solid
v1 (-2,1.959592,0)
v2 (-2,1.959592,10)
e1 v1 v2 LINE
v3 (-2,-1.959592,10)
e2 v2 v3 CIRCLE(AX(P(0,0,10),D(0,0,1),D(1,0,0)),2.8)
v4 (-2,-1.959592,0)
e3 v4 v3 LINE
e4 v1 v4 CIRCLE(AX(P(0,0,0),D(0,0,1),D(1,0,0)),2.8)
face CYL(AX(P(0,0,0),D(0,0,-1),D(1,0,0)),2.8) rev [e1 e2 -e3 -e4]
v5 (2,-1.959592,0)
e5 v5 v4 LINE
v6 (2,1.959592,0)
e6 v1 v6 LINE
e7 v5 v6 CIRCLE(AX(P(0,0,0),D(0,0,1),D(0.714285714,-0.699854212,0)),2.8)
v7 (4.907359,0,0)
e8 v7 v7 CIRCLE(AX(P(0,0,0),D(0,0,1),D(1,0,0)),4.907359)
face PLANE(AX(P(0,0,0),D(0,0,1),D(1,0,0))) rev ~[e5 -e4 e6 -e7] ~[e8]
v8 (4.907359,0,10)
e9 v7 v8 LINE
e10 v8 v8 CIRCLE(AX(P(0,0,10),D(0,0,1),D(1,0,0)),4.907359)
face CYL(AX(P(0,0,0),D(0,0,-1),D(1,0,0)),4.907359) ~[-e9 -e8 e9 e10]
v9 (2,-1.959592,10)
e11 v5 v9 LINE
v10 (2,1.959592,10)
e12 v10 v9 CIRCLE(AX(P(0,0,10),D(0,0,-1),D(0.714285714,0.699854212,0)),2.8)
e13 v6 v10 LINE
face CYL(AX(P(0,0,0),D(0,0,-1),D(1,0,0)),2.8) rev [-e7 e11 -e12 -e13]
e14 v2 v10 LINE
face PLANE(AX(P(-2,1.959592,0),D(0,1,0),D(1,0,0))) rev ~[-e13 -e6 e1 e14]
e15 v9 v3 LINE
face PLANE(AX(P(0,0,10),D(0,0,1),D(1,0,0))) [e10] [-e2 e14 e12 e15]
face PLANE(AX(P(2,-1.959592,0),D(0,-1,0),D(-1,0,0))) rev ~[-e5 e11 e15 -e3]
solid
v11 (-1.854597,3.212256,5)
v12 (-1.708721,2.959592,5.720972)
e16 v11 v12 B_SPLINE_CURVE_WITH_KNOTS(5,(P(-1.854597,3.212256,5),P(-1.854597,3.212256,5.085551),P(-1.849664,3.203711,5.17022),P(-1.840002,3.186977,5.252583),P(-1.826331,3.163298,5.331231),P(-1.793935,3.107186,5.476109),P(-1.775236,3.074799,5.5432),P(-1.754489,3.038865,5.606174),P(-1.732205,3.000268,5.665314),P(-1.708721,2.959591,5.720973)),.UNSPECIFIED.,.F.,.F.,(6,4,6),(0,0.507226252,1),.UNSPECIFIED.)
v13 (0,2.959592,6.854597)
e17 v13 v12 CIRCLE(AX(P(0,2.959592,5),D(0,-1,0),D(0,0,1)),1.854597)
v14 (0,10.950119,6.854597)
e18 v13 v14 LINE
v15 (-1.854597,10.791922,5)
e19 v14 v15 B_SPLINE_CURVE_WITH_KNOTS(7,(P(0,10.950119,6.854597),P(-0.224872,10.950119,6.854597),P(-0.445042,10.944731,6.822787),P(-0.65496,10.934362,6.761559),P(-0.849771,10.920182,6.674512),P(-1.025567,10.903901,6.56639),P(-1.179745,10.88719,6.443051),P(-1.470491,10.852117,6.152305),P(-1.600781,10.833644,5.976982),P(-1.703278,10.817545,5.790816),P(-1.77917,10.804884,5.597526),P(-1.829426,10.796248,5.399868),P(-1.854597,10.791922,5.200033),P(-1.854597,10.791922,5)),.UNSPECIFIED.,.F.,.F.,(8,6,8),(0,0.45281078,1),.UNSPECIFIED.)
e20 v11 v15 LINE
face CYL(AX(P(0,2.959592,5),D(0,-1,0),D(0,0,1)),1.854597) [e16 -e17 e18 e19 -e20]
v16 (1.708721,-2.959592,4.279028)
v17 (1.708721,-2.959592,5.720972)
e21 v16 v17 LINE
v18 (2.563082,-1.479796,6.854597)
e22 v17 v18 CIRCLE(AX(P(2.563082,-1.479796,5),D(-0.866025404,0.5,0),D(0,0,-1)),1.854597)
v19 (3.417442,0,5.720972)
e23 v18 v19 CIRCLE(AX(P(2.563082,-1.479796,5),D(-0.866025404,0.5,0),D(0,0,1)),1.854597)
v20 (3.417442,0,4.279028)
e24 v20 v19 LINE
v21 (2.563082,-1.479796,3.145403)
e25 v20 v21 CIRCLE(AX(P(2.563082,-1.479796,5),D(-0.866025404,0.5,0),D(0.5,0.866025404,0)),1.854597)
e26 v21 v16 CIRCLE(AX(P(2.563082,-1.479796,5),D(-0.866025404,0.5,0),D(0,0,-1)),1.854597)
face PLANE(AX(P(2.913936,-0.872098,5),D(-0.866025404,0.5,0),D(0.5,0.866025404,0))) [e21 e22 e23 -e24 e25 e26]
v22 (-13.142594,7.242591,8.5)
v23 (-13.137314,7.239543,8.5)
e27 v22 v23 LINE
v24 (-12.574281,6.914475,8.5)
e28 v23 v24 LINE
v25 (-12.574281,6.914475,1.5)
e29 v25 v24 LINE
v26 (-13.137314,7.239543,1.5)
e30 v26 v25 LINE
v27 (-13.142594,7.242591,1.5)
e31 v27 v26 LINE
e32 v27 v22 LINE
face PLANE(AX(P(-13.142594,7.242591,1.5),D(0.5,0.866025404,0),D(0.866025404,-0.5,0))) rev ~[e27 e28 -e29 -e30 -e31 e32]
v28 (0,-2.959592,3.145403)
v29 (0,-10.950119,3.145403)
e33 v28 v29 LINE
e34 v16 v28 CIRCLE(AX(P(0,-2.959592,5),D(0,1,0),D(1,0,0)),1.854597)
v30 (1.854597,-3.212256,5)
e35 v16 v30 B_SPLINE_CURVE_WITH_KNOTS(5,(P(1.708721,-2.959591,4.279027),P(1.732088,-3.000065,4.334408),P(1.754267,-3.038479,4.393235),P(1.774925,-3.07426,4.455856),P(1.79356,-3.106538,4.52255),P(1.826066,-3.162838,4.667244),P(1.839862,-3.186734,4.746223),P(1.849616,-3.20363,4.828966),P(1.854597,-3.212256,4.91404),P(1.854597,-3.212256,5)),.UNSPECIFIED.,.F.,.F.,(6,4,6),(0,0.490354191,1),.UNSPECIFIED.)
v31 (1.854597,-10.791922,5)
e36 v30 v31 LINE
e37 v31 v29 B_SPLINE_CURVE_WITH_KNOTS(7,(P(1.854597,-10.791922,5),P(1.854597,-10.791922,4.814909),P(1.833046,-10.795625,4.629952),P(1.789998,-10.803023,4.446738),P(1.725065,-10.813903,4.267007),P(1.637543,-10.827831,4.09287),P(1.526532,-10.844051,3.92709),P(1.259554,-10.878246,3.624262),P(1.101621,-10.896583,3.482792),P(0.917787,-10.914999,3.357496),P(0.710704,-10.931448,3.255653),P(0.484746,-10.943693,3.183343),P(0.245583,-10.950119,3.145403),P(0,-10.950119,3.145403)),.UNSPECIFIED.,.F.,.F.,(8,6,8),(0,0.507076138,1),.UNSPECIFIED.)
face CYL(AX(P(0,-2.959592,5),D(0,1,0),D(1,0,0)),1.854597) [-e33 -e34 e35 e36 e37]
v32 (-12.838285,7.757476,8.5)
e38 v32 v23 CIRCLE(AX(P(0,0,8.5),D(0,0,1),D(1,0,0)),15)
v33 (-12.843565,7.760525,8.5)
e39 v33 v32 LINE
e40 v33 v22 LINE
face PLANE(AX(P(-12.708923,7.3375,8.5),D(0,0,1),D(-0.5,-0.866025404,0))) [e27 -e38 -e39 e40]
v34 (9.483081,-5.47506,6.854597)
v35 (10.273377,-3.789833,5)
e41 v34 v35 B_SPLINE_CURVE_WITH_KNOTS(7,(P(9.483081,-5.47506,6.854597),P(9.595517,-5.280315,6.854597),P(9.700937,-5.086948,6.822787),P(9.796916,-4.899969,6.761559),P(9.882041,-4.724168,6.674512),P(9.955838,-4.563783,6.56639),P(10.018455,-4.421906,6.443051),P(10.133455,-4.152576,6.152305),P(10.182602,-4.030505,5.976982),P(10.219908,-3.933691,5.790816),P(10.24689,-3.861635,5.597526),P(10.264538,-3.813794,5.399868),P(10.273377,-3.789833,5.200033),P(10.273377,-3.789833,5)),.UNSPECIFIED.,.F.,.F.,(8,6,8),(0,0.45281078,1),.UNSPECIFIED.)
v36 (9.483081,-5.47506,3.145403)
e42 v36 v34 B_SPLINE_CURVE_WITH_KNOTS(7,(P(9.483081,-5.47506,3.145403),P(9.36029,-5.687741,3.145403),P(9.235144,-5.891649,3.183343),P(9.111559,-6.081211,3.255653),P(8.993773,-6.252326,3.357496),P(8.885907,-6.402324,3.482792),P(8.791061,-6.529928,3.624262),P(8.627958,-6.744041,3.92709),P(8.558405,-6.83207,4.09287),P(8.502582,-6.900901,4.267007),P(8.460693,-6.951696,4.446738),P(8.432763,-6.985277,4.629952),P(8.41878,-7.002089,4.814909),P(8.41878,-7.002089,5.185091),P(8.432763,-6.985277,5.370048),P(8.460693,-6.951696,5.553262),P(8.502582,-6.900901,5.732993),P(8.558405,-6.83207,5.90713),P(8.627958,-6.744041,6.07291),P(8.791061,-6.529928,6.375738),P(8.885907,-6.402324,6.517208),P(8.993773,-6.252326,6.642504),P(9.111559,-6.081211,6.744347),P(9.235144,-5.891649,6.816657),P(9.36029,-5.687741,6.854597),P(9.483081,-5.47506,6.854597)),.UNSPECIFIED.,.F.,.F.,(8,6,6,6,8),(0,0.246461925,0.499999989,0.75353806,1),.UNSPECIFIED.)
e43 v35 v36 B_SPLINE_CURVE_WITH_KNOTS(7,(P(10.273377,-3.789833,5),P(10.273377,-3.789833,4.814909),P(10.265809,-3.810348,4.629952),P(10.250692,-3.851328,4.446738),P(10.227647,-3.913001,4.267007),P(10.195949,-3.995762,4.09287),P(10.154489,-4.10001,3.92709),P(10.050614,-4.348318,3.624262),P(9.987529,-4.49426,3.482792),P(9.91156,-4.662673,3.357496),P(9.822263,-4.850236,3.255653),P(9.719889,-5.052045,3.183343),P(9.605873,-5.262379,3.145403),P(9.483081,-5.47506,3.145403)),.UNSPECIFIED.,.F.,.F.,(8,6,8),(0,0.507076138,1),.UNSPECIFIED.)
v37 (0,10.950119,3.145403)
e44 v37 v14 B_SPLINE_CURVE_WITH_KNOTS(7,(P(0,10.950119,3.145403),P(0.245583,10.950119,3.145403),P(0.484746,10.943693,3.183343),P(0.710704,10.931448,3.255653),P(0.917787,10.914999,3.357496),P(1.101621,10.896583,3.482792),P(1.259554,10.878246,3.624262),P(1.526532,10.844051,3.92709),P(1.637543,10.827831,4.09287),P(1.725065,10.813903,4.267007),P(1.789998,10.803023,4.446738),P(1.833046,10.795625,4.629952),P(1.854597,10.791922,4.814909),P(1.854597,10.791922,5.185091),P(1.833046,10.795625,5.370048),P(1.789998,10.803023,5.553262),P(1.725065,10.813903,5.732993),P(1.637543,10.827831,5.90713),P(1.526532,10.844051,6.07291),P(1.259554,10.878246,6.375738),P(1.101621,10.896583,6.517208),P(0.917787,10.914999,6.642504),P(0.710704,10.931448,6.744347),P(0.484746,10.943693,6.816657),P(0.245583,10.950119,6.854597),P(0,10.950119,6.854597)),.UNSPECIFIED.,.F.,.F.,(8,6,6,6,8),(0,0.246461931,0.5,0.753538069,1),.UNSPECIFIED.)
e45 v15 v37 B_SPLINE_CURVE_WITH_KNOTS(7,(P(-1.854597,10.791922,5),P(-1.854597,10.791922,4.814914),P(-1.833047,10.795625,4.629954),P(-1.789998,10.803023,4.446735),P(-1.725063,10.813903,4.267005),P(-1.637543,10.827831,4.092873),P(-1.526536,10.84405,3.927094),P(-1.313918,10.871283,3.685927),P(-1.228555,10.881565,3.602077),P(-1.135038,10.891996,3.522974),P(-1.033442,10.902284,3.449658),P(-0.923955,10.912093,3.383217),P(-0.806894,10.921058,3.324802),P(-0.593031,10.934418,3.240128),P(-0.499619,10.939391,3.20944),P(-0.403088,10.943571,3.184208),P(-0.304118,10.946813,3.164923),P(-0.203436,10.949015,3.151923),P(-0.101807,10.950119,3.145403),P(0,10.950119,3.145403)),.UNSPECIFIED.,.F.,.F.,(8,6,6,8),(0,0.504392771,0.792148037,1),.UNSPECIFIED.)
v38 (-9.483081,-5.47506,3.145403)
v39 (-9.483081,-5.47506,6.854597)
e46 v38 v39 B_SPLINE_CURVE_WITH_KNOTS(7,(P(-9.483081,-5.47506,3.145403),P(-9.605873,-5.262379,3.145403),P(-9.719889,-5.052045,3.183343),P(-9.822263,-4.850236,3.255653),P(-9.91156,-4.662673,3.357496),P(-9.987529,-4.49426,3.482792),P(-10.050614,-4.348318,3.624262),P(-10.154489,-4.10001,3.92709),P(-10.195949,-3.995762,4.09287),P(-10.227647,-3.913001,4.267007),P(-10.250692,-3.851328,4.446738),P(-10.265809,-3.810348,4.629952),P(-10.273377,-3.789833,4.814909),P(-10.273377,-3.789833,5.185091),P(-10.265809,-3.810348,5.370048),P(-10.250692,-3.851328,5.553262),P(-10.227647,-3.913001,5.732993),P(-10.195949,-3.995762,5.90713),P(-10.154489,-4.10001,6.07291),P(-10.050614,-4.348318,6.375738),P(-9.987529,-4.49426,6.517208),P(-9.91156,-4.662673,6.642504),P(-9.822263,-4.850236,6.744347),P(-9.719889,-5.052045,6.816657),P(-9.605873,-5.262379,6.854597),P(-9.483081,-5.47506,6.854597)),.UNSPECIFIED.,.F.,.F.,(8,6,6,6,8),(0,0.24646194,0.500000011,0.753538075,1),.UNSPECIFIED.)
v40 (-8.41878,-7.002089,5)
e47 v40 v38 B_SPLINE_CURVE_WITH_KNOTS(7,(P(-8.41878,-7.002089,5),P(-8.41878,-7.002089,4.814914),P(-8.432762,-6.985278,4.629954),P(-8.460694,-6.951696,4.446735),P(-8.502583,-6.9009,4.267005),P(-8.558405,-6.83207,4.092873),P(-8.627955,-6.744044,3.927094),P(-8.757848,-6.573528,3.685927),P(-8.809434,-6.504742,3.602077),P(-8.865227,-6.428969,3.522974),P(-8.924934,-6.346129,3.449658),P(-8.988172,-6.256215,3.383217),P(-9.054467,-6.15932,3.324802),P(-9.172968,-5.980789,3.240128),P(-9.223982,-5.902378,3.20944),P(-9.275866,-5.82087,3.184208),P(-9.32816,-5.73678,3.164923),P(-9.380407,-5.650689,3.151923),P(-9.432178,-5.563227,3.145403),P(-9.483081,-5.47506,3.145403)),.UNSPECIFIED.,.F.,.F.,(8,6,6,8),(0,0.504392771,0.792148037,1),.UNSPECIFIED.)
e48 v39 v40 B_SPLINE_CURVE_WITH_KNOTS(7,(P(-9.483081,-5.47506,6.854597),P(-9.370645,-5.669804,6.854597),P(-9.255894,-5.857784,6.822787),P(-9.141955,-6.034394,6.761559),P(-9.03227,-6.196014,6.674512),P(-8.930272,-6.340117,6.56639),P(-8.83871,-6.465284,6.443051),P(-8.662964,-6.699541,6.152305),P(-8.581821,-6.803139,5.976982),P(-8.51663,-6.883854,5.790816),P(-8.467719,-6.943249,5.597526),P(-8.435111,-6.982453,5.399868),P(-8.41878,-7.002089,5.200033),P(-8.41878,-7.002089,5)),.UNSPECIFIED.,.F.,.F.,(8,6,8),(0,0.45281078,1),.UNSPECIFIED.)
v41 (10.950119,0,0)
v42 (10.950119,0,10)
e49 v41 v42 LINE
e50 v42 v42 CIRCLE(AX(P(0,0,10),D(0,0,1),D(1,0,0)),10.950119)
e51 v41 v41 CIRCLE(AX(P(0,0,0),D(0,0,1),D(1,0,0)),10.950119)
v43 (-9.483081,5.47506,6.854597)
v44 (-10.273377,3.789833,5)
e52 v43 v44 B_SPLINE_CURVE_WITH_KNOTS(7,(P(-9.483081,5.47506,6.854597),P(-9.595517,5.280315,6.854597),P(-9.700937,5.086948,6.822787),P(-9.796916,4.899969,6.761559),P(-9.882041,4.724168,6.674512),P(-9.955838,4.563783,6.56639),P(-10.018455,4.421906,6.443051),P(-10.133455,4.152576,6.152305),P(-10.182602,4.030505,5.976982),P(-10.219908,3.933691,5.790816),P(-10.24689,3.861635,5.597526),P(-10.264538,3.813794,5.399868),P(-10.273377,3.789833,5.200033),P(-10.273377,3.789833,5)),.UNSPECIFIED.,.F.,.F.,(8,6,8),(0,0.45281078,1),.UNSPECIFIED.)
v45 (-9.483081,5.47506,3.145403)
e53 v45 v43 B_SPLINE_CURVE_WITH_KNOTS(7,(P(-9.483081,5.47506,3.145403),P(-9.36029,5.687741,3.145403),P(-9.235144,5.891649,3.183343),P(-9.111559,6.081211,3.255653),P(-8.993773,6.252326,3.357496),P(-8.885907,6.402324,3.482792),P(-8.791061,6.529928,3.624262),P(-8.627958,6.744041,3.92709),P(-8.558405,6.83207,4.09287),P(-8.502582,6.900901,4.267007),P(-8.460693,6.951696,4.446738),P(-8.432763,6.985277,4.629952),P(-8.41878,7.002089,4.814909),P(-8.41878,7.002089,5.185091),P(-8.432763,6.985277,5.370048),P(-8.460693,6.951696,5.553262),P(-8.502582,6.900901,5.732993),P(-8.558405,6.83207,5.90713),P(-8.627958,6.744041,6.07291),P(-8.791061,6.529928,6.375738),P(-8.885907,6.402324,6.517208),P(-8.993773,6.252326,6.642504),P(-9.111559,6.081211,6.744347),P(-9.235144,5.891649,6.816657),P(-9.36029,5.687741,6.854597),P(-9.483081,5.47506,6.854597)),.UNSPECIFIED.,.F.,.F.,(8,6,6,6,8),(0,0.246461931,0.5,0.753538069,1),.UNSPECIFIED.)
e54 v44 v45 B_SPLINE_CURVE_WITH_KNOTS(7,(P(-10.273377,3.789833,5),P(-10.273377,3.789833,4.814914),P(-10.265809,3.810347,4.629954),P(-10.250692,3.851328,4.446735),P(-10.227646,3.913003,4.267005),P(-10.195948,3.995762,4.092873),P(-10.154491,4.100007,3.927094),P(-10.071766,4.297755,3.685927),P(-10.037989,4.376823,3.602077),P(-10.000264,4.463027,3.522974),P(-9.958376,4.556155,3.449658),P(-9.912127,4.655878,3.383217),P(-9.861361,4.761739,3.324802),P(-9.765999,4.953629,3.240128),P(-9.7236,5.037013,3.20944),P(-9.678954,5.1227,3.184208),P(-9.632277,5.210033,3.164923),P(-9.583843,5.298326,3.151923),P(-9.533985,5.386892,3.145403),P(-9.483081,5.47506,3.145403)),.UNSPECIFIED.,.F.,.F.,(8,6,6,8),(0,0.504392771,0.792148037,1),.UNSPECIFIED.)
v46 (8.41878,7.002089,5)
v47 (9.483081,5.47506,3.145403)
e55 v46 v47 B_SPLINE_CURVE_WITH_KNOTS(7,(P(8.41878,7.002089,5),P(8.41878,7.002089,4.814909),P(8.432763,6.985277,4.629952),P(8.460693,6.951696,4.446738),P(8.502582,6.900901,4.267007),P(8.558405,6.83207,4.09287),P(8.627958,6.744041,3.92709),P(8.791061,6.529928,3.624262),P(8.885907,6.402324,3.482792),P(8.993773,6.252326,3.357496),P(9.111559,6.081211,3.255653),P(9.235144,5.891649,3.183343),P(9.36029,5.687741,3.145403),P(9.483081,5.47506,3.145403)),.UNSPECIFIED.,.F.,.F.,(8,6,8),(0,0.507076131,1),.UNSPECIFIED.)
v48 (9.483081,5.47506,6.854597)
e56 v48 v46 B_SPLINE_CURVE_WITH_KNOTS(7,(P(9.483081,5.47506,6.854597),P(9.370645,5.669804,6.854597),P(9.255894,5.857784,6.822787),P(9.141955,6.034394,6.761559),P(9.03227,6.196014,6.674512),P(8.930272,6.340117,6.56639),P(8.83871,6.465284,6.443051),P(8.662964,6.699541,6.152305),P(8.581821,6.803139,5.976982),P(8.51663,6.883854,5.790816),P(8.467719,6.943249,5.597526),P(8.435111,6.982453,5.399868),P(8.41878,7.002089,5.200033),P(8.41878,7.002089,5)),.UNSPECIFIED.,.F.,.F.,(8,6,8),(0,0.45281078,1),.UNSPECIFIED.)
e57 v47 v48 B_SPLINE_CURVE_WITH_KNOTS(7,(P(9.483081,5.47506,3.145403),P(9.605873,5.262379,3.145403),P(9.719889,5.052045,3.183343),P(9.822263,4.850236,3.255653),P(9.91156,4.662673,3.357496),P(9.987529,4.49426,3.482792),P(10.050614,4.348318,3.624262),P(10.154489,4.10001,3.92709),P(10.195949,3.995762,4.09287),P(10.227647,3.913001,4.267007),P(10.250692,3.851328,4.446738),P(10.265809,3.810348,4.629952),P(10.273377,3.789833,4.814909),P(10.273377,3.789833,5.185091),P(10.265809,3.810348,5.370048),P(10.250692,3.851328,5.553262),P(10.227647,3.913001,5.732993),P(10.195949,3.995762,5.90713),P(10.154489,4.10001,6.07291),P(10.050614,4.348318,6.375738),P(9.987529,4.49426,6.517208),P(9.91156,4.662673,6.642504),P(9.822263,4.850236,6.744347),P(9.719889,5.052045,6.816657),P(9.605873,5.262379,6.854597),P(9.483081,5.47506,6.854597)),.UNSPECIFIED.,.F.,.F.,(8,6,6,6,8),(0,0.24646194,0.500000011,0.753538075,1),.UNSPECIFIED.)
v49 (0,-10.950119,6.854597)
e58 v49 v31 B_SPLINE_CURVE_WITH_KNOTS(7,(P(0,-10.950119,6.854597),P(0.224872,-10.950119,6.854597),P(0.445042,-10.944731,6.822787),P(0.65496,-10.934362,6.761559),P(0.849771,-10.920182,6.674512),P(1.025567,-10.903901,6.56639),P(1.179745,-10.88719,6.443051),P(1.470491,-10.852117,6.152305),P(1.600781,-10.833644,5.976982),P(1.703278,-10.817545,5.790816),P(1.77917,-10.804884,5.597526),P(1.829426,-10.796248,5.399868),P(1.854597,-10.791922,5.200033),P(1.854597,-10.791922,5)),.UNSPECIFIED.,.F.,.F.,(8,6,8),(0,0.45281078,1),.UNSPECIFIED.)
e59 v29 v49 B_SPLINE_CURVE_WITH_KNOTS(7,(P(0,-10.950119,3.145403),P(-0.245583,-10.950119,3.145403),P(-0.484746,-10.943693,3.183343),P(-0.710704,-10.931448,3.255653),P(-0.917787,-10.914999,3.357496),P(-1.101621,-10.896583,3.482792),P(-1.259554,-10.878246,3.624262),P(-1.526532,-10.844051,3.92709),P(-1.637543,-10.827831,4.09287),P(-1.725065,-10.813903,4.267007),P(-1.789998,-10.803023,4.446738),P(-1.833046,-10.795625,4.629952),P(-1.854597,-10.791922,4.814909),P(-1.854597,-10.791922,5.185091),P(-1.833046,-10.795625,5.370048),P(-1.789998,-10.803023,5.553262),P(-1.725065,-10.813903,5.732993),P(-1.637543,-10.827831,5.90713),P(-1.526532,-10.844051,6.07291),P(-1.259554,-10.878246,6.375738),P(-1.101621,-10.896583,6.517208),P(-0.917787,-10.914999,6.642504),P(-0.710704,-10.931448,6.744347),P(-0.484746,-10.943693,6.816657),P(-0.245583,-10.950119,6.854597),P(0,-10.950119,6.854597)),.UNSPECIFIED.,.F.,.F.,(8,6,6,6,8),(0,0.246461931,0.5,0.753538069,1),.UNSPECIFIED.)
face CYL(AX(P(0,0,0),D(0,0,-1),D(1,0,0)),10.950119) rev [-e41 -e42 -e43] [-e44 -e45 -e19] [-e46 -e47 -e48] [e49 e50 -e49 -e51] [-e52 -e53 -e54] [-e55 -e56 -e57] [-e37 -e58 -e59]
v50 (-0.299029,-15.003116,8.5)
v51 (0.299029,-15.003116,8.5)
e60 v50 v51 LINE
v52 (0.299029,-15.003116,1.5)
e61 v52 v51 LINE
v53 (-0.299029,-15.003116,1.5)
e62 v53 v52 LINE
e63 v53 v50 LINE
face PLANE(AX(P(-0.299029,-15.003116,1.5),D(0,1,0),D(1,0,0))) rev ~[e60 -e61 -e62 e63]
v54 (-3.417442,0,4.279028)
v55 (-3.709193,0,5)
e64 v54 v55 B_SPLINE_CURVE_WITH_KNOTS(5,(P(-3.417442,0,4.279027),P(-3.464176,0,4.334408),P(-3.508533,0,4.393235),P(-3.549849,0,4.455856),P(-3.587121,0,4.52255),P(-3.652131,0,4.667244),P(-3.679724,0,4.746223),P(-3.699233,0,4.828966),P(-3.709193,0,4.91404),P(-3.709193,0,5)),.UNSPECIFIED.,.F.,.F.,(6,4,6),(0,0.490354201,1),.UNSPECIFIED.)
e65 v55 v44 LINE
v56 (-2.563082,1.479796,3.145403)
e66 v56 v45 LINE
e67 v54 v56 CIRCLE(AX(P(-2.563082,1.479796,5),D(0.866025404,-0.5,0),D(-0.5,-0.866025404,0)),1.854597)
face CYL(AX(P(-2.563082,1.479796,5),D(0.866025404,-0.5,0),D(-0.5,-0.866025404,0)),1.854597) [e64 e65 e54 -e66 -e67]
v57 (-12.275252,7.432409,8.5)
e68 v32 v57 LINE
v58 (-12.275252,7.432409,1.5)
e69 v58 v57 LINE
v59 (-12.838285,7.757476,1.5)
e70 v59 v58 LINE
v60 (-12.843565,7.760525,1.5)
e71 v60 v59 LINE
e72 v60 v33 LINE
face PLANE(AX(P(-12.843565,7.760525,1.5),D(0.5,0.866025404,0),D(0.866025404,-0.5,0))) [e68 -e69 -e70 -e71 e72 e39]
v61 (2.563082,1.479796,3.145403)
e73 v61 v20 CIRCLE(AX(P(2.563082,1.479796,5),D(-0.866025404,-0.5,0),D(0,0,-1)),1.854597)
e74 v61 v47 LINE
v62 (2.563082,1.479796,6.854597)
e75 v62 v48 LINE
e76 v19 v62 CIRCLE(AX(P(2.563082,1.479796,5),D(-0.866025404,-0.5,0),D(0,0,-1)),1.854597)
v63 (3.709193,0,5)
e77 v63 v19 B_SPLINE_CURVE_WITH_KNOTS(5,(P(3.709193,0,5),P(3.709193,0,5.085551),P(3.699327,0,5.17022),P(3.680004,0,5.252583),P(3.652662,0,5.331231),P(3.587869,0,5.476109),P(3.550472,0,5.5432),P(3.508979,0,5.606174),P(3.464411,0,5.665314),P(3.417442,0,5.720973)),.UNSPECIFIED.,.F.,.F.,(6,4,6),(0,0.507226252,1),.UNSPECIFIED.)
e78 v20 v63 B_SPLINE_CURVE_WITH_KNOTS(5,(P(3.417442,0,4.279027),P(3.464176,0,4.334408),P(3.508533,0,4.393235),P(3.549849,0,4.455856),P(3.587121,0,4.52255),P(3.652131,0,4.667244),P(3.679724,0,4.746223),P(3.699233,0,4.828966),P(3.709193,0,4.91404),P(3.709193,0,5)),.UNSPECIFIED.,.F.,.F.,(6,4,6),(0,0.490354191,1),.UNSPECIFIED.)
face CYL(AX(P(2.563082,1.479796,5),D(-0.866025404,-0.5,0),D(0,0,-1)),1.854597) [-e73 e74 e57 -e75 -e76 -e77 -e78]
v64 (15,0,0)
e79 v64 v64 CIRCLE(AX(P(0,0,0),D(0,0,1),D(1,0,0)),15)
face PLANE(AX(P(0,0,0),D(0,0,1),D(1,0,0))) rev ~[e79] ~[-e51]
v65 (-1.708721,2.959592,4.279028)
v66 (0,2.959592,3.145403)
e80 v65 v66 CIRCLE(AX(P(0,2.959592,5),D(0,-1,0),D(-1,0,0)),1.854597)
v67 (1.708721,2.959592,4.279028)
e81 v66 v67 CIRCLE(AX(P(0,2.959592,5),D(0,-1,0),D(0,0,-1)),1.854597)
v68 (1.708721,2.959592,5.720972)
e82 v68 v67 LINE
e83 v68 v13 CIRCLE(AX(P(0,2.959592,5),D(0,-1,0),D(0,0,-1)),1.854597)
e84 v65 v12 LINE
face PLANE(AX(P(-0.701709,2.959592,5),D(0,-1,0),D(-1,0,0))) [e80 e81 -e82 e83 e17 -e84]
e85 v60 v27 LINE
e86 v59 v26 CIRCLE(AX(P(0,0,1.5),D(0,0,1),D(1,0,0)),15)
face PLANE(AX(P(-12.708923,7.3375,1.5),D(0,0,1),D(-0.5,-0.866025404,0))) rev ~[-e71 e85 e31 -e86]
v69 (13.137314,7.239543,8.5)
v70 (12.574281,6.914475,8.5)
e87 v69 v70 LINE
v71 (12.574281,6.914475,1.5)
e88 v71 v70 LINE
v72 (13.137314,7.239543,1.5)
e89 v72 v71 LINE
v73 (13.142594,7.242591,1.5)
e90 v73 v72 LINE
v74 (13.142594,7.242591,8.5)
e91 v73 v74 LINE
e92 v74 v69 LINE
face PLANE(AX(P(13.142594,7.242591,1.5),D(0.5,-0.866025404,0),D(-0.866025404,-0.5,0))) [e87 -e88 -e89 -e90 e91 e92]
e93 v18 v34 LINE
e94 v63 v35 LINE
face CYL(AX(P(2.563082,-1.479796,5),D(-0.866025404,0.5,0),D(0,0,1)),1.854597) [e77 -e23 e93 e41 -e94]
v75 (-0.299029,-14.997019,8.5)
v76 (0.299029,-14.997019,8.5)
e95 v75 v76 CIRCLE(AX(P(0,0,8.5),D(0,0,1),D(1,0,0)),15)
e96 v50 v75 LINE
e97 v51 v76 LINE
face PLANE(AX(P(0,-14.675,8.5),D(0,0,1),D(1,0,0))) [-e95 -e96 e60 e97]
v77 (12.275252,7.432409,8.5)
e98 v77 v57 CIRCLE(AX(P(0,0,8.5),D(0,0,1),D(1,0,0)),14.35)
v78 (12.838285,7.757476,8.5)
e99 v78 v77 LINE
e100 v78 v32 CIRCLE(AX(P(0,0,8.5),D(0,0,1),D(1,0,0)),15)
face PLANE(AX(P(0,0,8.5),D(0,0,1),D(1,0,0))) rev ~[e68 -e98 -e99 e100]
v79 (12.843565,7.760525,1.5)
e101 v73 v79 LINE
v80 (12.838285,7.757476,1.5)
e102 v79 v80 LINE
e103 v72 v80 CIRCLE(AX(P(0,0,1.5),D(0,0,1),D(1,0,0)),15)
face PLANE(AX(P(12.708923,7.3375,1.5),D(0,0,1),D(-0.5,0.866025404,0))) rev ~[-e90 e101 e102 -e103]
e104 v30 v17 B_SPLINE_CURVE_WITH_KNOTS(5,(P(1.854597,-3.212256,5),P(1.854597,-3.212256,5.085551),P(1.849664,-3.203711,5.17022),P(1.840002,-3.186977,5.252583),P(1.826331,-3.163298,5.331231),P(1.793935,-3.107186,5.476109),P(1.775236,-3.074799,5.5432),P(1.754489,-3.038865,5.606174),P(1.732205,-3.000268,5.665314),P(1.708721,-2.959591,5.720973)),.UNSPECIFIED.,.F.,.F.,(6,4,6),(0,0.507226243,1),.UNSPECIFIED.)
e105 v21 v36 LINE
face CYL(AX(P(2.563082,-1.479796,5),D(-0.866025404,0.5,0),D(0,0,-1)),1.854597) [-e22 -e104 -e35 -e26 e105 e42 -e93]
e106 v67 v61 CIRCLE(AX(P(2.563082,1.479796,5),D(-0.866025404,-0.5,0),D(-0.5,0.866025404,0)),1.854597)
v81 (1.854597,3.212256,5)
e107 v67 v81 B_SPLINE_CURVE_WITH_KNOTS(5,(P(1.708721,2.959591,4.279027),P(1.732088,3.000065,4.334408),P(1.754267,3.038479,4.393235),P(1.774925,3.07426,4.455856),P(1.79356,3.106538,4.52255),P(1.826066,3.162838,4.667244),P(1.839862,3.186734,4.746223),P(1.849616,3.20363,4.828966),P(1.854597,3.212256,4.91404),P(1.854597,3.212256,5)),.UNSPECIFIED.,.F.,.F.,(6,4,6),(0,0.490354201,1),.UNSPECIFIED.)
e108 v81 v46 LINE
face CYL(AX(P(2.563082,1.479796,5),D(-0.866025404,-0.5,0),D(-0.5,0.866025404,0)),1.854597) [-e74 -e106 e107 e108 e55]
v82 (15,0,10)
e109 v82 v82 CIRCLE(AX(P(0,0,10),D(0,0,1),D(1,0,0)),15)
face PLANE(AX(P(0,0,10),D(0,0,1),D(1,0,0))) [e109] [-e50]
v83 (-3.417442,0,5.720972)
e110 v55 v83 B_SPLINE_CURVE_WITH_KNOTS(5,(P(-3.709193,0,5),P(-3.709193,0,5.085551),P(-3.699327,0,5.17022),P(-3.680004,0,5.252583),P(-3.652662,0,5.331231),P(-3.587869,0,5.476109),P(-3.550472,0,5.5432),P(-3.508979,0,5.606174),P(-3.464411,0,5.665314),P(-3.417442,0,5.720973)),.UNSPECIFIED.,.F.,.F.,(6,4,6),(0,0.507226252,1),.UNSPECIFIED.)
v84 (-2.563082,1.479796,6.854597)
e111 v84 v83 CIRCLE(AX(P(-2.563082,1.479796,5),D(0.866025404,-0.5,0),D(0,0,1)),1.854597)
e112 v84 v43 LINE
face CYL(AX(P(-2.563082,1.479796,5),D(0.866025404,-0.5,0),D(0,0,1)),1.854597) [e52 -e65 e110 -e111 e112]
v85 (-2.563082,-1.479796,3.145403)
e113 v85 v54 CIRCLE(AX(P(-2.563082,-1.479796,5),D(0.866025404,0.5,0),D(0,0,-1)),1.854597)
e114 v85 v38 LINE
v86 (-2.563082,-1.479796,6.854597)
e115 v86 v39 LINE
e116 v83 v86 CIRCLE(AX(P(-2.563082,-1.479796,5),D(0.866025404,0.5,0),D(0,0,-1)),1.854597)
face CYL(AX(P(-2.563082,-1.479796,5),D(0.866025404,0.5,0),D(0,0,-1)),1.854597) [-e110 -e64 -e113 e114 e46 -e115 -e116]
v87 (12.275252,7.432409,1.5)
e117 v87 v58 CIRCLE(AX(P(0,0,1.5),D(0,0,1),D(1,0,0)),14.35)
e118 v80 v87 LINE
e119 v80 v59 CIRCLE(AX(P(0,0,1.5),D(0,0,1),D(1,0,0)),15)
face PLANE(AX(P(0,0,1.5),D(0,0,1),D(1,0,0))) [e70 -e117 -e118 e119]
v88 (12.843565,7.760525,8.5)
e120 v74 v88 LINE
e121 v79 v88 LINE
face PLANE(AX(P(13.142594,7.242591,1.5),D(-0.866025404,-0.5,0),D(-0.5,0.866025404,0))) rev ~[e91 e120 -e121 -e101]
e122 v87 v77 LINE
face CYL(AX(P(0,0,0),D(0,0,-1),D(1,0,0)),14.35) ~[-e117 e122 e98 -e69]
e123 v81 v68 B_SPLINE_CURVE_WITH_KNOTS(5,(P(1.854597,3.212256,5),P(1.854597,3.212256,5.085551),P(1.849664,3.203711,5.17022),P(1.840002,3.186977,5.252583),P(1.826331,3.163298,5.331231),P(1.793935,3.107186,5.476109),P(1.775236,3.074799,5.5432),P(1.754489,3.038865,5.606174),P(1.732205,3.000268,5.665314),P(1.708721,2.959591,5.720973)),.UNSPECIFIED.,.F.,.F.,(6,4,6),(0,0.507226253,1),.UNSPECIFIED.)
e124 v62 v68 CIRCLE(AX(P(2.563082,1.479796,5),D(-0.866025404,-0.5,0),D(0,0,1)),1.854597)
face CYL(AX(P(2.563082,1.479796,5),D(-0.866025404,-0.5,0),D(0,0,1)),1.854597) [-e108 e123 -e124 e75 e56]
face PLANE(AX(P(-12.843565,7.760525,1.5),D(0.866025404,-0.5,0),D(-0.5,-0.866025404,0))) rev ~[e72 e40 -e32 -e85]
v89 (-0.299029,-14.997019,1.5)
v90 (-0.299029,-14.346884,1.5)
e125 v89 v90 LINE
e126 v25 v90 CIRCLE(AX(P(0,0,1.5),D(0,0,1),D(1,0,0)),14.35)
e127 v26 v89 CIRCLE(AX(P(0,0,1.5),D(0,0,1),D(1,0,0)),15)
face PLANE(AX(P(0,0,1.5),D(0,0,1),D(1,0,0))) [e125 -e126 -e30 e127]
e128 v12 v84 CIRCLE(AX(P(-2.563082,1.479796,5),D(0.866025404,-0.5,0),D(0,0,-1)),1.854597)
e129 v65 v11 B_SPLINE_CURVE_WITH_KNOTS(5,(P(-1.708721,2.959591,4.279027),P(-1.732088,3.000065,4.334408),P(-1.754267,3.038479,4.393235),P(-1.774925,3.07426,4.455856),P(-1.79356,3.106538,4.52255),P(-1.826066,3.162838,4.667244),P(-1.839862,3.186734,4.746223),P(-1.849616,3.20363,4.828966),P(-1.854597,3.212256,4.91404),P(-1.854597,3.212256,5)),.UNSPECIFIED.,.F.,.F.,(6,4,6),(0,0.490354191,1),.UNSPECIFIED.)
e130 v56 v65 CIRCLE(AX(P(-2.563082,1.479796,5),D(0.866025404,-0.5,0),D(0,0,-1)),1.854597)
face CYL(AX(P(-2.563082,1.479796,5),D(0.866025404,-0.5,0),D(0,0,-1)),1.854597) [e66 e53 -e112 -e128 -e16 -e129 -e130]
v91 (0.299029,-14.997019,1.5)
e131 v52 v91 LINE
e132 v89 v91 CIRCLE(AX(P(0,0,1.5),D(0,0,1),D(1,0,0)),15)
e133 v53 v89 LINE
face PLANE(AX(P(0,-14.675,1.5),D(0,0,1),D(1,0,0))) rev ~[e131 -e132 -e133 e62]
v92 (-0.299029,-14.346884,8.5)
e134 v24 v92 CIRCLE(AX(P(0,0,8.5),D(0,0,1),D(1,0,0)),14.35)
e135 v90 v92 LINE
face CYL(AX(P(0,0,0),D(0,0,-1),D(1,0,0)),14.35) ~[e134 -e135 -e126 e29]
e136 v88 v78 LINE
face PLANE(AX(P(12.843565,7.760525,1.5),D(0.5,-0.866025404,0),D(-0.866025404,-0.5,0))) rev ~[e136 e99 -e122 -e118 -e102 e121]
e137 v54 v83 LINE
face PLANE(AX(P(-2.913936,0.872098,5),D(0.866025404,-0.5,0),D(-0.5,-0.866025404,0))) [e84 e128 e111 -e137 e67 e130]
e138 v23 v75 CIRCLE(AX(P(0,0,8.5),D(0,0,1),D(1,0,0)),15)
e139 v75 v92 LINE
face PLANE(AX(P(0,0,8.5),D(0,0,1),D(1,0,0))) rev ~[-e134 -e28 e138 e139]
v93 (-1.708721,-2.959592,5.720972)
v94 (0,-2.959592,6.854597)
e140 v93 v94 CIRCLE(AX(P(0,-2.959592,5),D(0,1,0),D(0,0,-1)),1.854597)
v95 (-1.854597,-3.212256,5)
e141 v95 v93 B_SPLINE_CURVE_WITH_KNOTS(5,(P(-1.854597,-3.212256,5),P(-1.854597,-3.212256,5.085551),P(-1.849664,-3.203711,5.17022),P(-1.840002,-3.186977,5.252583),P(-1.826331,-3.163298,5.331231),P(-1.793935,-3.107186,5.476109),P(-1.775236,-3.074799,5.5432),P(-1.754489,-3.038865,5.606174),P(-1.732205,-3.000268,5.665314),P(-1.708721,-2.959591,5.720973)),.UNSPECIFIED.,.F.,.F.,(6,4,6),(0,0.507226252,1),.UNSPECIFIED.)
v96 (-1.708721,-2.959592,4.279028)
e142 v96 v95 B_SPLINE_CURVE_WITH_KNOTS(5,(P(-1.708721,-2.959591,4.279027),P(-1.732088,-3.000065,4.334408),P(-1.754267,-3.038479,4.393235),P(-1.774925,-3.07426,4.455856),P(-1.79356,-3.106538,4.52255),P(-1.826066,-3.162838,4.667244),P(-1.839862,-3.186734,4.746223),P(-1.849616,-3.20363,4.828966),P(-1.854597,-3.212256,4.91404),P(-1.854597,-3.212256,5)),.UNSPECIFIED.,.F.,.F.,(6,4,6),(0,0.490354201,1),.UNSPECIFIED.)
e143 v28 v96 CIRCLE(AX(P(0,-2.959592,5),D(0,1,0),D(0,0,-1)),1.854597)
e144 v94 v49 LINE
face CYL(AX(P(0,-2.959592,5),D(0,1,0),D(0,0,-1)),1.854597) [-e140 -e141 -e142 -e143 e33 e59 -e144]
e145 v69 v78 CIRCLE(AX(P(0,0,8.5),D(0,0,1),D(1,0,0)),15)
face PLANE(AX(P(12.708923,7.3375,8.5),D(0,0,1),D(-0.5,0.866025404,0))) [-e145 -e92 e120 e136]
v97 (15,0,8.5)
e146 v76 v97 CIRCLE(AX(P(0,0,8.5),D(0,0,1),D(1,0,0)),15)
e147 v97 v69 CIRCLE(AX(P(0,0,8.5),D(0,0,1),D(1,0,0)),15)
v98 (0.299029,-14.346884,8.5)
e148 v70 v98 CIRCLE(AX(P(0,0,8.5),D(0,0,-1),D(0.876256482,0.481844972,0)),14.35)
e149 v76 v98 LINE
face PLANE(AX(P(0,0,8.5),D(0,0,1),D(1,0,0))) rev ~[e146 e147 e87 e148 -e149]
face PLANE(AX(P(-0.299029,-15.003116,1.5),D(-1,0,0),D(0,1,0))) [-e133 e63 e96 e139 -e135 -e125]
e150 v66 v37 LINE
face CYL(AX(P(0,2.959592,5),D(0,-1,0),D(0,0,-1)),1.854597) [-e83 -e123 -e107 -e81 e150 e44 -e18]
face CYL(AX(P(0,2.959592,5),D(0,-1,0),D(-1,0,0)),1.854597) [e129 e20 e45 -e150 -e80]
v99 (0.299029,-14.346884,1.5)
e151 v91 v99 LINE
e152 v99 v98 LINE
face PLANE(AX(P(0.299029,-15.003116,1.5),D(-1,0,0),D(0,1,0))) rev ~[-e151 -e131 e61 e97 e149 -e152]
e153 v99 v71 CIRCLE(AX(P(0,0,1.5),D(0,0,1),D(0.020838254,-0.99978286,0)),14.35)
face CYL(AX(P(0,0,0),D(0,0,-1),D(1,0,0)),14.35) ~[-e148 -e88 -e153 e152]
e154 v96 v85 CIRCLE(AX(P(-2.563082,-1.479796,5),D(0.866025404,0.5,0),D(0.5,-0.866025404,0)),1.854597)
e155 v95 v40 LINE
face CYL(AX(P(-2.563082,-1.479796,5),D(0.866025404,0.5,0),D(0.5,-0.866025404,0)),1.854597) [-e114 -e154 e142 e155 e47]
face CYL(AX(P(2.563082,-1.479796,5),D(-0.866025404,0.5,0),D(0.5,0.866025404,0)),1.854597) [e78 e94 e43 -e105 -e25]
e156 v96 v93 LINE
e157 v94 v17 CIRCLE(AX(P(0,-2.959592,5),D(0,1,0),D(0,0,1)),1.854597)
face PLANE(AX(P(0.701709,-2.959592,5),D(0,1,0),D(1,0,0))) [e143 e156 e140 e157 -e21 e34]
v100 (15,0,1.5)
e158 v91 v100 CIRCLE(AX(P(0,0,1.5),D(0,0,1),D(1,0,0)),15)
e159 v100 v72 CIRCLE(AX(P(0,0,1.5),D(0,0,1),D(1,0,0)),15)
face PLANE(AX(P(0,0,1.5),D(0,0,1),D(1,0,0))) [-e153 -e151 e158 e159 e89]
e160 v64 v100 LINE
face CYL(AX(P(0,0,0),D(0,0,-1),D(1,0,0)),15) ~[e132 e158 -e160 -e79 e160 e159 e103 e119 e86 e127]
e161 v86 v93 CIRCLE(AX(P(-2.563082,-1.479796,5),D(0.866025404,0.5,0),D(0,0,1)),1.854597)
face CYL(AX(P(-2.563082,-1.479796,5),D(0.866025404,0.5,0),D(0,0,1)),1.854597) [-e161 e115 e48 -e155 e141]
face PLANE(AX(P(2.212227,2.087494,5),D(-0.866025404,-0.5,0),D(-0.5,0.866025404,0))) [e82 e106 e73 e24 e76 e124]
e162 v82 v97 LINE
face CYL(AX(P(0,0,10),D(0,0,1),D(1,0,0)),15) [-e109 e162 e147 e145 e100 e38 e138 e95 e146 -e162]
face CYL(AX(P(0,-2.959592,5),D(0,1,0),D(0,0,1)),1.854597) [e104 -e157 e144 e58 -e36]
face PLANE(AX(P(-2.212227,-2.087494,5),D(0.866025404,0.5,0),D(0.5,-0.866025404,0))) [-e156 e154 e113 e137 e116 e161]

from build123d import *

# Parameters (mm, degrees)
SKETCH2_R           = 4.90735859
SKETCH2_R_2         = 2.8
BOSS_EXTRUDE1_DEPTH = 10
SKETCH3_R           = 14.35
SKETCH3_R_2         = 10.950119173
BOSS_EXTRUDE2_DEPTH = 10
SKETCH4_R           = 15
SKETCH4_R_2         = 14.35
BOSS_EXTRUDE3_DEPTH = 1.5
SKETCH5_R           = 15
SKETCH5_R_2         = 14.35
BOSS_EXTRUDE4_DEPTH = 1.5
BOSS_EXTRUDE5_DEPTH = 8.5
CIRPATTERN1_COUNT   = 6
SKETCH8_W           = 0.598057902
SKETCH8_H           = 0.656231918
BOSS_EXTRUDE6_DEPTH = 7
CIRPATTERN2_COUNT   = 3


with BuildPart() as part:
    # Sketch2 → Boss-Extrude1 (new body)
    # profile 1 of 3: a face of its own
    with BuildSketch(Plane.XY):
        Circle(SKETCH2_R)
        Circle(SKETCH2_R_2, mode=Mode.SUBTRACT)
    # profile 2 of 3: a face of its own
    with BuildSketch(Plane.XY):
        with BuildLine():
            Line((2, -1.959591794), (-2, -1.959591794))
            ThreePointArc((-2, -1.959591794), (0, -2.8), (2, -1.959591794))
        make_face()
    # profile 3 of 3: a face of its own
    with BuildSketch(Plane.XY):
        with BuildLine():
            Line((-2, 1.959591794), (2, 1.959591794))
            ThreePointArc((2, 1.959591794), (0, 2.8), (-2, 1.959591794))
        make_face()
    extrude(amount=BOSS_EXTRUDE1_DEPTH)


with BuildPart() as body_2:
    # Sketch3 → Boss-Extrude2 (new body)
    with BuildSketch(Plane.XY):
        Circle(SKETCH3_R)
        Circle(SKETCH3_R_2, mode=Mode.SUBTRACT)
    extrude(amount=BOSS_EXTRUDE2_DEPTH)

    # Sketch4 → Boss-Extrude3 (add)
    with BuildSketch(Plane.XY):
        Circle(SKETCH4_R)
        Circle(SKETCH4_R_2, mode=Mode.SUBTRACT)
    extrude(amount=BOSS_EXTRUDE3_DEPTH)

    # Sketch5 → Boss-Extrude4 (add)
    with BuildSketch(Plane.XY.offset(10)):
        Circle(SKETCH5_R)
        Circle(SKETCH5_R_2, mode=Mode.SUBTRACT)
    extrude(amount=-BOSS_EXTRUDE4_DEPTH)

    # Sketch7 → Boss-Extrude5 (add)
    with BuildSketch(Plane(origin=(0, 2.959591794, 0), x_dir=(-1, 0, 0), z_dir=(0, -1, 0))):
        with BuildLine():
            ThreePointArc((1.854596747, -5), (1.311397936, -3.688602064), (0, -3.145403253))
            Line((0, -3.145403253), (0, -6.854596747))
            ThreePointArc((0, -6.854596747), (1.311397936, -6.311397936), (1.854596747, -5))
        make_face()
        with BuildLine():
            Line((0, -6.854596747), (0, -3.145403253))
            ThreePointArc((0, -3.145403253), (-1.854596747, -5), (0, -6.854596747))
        make_face()
    boss_extrude5 = extrude(amount=-BOSS_EXTRUDE5_DEPTH)

    # CirPattern1: Boss-Extrude5 ×6 about axis
    cirpattern1_axis = Axis((0, 0, 10), (0, 0, 1))
    for i in range(1, CIRPATTERN1_COUNT):
        add(boss_extrude5.rotate(cirpattern1_axis, i * 360 / CIRPATTERN1_COUNT))

    # Sketch8 → Boss-Extrude6 (add)
    with BuildSketch(Plane.XY.offset(1.5)):
        with Locations((0, -14.675)):
            Rectangle(SKETCH8_W, SKETCH8_H)
    boss_extrude6 = extrude(amount=BOSS_EXTRUDE6_DEPTH)

    # CirPattern2: Boss-Extrude6 ×3 about axis
    cirpattern2_axis = Axis((0, 0, 0), (0, 0, 1))
    for i in range(1, CIRPATTERN2_COUNT):
        add(boss_extrude6.rotate(cirpattern2_axis, i * 360 / CIRPATTERN2_COUNT))


solid = Compound([part.part, body_2.part])
